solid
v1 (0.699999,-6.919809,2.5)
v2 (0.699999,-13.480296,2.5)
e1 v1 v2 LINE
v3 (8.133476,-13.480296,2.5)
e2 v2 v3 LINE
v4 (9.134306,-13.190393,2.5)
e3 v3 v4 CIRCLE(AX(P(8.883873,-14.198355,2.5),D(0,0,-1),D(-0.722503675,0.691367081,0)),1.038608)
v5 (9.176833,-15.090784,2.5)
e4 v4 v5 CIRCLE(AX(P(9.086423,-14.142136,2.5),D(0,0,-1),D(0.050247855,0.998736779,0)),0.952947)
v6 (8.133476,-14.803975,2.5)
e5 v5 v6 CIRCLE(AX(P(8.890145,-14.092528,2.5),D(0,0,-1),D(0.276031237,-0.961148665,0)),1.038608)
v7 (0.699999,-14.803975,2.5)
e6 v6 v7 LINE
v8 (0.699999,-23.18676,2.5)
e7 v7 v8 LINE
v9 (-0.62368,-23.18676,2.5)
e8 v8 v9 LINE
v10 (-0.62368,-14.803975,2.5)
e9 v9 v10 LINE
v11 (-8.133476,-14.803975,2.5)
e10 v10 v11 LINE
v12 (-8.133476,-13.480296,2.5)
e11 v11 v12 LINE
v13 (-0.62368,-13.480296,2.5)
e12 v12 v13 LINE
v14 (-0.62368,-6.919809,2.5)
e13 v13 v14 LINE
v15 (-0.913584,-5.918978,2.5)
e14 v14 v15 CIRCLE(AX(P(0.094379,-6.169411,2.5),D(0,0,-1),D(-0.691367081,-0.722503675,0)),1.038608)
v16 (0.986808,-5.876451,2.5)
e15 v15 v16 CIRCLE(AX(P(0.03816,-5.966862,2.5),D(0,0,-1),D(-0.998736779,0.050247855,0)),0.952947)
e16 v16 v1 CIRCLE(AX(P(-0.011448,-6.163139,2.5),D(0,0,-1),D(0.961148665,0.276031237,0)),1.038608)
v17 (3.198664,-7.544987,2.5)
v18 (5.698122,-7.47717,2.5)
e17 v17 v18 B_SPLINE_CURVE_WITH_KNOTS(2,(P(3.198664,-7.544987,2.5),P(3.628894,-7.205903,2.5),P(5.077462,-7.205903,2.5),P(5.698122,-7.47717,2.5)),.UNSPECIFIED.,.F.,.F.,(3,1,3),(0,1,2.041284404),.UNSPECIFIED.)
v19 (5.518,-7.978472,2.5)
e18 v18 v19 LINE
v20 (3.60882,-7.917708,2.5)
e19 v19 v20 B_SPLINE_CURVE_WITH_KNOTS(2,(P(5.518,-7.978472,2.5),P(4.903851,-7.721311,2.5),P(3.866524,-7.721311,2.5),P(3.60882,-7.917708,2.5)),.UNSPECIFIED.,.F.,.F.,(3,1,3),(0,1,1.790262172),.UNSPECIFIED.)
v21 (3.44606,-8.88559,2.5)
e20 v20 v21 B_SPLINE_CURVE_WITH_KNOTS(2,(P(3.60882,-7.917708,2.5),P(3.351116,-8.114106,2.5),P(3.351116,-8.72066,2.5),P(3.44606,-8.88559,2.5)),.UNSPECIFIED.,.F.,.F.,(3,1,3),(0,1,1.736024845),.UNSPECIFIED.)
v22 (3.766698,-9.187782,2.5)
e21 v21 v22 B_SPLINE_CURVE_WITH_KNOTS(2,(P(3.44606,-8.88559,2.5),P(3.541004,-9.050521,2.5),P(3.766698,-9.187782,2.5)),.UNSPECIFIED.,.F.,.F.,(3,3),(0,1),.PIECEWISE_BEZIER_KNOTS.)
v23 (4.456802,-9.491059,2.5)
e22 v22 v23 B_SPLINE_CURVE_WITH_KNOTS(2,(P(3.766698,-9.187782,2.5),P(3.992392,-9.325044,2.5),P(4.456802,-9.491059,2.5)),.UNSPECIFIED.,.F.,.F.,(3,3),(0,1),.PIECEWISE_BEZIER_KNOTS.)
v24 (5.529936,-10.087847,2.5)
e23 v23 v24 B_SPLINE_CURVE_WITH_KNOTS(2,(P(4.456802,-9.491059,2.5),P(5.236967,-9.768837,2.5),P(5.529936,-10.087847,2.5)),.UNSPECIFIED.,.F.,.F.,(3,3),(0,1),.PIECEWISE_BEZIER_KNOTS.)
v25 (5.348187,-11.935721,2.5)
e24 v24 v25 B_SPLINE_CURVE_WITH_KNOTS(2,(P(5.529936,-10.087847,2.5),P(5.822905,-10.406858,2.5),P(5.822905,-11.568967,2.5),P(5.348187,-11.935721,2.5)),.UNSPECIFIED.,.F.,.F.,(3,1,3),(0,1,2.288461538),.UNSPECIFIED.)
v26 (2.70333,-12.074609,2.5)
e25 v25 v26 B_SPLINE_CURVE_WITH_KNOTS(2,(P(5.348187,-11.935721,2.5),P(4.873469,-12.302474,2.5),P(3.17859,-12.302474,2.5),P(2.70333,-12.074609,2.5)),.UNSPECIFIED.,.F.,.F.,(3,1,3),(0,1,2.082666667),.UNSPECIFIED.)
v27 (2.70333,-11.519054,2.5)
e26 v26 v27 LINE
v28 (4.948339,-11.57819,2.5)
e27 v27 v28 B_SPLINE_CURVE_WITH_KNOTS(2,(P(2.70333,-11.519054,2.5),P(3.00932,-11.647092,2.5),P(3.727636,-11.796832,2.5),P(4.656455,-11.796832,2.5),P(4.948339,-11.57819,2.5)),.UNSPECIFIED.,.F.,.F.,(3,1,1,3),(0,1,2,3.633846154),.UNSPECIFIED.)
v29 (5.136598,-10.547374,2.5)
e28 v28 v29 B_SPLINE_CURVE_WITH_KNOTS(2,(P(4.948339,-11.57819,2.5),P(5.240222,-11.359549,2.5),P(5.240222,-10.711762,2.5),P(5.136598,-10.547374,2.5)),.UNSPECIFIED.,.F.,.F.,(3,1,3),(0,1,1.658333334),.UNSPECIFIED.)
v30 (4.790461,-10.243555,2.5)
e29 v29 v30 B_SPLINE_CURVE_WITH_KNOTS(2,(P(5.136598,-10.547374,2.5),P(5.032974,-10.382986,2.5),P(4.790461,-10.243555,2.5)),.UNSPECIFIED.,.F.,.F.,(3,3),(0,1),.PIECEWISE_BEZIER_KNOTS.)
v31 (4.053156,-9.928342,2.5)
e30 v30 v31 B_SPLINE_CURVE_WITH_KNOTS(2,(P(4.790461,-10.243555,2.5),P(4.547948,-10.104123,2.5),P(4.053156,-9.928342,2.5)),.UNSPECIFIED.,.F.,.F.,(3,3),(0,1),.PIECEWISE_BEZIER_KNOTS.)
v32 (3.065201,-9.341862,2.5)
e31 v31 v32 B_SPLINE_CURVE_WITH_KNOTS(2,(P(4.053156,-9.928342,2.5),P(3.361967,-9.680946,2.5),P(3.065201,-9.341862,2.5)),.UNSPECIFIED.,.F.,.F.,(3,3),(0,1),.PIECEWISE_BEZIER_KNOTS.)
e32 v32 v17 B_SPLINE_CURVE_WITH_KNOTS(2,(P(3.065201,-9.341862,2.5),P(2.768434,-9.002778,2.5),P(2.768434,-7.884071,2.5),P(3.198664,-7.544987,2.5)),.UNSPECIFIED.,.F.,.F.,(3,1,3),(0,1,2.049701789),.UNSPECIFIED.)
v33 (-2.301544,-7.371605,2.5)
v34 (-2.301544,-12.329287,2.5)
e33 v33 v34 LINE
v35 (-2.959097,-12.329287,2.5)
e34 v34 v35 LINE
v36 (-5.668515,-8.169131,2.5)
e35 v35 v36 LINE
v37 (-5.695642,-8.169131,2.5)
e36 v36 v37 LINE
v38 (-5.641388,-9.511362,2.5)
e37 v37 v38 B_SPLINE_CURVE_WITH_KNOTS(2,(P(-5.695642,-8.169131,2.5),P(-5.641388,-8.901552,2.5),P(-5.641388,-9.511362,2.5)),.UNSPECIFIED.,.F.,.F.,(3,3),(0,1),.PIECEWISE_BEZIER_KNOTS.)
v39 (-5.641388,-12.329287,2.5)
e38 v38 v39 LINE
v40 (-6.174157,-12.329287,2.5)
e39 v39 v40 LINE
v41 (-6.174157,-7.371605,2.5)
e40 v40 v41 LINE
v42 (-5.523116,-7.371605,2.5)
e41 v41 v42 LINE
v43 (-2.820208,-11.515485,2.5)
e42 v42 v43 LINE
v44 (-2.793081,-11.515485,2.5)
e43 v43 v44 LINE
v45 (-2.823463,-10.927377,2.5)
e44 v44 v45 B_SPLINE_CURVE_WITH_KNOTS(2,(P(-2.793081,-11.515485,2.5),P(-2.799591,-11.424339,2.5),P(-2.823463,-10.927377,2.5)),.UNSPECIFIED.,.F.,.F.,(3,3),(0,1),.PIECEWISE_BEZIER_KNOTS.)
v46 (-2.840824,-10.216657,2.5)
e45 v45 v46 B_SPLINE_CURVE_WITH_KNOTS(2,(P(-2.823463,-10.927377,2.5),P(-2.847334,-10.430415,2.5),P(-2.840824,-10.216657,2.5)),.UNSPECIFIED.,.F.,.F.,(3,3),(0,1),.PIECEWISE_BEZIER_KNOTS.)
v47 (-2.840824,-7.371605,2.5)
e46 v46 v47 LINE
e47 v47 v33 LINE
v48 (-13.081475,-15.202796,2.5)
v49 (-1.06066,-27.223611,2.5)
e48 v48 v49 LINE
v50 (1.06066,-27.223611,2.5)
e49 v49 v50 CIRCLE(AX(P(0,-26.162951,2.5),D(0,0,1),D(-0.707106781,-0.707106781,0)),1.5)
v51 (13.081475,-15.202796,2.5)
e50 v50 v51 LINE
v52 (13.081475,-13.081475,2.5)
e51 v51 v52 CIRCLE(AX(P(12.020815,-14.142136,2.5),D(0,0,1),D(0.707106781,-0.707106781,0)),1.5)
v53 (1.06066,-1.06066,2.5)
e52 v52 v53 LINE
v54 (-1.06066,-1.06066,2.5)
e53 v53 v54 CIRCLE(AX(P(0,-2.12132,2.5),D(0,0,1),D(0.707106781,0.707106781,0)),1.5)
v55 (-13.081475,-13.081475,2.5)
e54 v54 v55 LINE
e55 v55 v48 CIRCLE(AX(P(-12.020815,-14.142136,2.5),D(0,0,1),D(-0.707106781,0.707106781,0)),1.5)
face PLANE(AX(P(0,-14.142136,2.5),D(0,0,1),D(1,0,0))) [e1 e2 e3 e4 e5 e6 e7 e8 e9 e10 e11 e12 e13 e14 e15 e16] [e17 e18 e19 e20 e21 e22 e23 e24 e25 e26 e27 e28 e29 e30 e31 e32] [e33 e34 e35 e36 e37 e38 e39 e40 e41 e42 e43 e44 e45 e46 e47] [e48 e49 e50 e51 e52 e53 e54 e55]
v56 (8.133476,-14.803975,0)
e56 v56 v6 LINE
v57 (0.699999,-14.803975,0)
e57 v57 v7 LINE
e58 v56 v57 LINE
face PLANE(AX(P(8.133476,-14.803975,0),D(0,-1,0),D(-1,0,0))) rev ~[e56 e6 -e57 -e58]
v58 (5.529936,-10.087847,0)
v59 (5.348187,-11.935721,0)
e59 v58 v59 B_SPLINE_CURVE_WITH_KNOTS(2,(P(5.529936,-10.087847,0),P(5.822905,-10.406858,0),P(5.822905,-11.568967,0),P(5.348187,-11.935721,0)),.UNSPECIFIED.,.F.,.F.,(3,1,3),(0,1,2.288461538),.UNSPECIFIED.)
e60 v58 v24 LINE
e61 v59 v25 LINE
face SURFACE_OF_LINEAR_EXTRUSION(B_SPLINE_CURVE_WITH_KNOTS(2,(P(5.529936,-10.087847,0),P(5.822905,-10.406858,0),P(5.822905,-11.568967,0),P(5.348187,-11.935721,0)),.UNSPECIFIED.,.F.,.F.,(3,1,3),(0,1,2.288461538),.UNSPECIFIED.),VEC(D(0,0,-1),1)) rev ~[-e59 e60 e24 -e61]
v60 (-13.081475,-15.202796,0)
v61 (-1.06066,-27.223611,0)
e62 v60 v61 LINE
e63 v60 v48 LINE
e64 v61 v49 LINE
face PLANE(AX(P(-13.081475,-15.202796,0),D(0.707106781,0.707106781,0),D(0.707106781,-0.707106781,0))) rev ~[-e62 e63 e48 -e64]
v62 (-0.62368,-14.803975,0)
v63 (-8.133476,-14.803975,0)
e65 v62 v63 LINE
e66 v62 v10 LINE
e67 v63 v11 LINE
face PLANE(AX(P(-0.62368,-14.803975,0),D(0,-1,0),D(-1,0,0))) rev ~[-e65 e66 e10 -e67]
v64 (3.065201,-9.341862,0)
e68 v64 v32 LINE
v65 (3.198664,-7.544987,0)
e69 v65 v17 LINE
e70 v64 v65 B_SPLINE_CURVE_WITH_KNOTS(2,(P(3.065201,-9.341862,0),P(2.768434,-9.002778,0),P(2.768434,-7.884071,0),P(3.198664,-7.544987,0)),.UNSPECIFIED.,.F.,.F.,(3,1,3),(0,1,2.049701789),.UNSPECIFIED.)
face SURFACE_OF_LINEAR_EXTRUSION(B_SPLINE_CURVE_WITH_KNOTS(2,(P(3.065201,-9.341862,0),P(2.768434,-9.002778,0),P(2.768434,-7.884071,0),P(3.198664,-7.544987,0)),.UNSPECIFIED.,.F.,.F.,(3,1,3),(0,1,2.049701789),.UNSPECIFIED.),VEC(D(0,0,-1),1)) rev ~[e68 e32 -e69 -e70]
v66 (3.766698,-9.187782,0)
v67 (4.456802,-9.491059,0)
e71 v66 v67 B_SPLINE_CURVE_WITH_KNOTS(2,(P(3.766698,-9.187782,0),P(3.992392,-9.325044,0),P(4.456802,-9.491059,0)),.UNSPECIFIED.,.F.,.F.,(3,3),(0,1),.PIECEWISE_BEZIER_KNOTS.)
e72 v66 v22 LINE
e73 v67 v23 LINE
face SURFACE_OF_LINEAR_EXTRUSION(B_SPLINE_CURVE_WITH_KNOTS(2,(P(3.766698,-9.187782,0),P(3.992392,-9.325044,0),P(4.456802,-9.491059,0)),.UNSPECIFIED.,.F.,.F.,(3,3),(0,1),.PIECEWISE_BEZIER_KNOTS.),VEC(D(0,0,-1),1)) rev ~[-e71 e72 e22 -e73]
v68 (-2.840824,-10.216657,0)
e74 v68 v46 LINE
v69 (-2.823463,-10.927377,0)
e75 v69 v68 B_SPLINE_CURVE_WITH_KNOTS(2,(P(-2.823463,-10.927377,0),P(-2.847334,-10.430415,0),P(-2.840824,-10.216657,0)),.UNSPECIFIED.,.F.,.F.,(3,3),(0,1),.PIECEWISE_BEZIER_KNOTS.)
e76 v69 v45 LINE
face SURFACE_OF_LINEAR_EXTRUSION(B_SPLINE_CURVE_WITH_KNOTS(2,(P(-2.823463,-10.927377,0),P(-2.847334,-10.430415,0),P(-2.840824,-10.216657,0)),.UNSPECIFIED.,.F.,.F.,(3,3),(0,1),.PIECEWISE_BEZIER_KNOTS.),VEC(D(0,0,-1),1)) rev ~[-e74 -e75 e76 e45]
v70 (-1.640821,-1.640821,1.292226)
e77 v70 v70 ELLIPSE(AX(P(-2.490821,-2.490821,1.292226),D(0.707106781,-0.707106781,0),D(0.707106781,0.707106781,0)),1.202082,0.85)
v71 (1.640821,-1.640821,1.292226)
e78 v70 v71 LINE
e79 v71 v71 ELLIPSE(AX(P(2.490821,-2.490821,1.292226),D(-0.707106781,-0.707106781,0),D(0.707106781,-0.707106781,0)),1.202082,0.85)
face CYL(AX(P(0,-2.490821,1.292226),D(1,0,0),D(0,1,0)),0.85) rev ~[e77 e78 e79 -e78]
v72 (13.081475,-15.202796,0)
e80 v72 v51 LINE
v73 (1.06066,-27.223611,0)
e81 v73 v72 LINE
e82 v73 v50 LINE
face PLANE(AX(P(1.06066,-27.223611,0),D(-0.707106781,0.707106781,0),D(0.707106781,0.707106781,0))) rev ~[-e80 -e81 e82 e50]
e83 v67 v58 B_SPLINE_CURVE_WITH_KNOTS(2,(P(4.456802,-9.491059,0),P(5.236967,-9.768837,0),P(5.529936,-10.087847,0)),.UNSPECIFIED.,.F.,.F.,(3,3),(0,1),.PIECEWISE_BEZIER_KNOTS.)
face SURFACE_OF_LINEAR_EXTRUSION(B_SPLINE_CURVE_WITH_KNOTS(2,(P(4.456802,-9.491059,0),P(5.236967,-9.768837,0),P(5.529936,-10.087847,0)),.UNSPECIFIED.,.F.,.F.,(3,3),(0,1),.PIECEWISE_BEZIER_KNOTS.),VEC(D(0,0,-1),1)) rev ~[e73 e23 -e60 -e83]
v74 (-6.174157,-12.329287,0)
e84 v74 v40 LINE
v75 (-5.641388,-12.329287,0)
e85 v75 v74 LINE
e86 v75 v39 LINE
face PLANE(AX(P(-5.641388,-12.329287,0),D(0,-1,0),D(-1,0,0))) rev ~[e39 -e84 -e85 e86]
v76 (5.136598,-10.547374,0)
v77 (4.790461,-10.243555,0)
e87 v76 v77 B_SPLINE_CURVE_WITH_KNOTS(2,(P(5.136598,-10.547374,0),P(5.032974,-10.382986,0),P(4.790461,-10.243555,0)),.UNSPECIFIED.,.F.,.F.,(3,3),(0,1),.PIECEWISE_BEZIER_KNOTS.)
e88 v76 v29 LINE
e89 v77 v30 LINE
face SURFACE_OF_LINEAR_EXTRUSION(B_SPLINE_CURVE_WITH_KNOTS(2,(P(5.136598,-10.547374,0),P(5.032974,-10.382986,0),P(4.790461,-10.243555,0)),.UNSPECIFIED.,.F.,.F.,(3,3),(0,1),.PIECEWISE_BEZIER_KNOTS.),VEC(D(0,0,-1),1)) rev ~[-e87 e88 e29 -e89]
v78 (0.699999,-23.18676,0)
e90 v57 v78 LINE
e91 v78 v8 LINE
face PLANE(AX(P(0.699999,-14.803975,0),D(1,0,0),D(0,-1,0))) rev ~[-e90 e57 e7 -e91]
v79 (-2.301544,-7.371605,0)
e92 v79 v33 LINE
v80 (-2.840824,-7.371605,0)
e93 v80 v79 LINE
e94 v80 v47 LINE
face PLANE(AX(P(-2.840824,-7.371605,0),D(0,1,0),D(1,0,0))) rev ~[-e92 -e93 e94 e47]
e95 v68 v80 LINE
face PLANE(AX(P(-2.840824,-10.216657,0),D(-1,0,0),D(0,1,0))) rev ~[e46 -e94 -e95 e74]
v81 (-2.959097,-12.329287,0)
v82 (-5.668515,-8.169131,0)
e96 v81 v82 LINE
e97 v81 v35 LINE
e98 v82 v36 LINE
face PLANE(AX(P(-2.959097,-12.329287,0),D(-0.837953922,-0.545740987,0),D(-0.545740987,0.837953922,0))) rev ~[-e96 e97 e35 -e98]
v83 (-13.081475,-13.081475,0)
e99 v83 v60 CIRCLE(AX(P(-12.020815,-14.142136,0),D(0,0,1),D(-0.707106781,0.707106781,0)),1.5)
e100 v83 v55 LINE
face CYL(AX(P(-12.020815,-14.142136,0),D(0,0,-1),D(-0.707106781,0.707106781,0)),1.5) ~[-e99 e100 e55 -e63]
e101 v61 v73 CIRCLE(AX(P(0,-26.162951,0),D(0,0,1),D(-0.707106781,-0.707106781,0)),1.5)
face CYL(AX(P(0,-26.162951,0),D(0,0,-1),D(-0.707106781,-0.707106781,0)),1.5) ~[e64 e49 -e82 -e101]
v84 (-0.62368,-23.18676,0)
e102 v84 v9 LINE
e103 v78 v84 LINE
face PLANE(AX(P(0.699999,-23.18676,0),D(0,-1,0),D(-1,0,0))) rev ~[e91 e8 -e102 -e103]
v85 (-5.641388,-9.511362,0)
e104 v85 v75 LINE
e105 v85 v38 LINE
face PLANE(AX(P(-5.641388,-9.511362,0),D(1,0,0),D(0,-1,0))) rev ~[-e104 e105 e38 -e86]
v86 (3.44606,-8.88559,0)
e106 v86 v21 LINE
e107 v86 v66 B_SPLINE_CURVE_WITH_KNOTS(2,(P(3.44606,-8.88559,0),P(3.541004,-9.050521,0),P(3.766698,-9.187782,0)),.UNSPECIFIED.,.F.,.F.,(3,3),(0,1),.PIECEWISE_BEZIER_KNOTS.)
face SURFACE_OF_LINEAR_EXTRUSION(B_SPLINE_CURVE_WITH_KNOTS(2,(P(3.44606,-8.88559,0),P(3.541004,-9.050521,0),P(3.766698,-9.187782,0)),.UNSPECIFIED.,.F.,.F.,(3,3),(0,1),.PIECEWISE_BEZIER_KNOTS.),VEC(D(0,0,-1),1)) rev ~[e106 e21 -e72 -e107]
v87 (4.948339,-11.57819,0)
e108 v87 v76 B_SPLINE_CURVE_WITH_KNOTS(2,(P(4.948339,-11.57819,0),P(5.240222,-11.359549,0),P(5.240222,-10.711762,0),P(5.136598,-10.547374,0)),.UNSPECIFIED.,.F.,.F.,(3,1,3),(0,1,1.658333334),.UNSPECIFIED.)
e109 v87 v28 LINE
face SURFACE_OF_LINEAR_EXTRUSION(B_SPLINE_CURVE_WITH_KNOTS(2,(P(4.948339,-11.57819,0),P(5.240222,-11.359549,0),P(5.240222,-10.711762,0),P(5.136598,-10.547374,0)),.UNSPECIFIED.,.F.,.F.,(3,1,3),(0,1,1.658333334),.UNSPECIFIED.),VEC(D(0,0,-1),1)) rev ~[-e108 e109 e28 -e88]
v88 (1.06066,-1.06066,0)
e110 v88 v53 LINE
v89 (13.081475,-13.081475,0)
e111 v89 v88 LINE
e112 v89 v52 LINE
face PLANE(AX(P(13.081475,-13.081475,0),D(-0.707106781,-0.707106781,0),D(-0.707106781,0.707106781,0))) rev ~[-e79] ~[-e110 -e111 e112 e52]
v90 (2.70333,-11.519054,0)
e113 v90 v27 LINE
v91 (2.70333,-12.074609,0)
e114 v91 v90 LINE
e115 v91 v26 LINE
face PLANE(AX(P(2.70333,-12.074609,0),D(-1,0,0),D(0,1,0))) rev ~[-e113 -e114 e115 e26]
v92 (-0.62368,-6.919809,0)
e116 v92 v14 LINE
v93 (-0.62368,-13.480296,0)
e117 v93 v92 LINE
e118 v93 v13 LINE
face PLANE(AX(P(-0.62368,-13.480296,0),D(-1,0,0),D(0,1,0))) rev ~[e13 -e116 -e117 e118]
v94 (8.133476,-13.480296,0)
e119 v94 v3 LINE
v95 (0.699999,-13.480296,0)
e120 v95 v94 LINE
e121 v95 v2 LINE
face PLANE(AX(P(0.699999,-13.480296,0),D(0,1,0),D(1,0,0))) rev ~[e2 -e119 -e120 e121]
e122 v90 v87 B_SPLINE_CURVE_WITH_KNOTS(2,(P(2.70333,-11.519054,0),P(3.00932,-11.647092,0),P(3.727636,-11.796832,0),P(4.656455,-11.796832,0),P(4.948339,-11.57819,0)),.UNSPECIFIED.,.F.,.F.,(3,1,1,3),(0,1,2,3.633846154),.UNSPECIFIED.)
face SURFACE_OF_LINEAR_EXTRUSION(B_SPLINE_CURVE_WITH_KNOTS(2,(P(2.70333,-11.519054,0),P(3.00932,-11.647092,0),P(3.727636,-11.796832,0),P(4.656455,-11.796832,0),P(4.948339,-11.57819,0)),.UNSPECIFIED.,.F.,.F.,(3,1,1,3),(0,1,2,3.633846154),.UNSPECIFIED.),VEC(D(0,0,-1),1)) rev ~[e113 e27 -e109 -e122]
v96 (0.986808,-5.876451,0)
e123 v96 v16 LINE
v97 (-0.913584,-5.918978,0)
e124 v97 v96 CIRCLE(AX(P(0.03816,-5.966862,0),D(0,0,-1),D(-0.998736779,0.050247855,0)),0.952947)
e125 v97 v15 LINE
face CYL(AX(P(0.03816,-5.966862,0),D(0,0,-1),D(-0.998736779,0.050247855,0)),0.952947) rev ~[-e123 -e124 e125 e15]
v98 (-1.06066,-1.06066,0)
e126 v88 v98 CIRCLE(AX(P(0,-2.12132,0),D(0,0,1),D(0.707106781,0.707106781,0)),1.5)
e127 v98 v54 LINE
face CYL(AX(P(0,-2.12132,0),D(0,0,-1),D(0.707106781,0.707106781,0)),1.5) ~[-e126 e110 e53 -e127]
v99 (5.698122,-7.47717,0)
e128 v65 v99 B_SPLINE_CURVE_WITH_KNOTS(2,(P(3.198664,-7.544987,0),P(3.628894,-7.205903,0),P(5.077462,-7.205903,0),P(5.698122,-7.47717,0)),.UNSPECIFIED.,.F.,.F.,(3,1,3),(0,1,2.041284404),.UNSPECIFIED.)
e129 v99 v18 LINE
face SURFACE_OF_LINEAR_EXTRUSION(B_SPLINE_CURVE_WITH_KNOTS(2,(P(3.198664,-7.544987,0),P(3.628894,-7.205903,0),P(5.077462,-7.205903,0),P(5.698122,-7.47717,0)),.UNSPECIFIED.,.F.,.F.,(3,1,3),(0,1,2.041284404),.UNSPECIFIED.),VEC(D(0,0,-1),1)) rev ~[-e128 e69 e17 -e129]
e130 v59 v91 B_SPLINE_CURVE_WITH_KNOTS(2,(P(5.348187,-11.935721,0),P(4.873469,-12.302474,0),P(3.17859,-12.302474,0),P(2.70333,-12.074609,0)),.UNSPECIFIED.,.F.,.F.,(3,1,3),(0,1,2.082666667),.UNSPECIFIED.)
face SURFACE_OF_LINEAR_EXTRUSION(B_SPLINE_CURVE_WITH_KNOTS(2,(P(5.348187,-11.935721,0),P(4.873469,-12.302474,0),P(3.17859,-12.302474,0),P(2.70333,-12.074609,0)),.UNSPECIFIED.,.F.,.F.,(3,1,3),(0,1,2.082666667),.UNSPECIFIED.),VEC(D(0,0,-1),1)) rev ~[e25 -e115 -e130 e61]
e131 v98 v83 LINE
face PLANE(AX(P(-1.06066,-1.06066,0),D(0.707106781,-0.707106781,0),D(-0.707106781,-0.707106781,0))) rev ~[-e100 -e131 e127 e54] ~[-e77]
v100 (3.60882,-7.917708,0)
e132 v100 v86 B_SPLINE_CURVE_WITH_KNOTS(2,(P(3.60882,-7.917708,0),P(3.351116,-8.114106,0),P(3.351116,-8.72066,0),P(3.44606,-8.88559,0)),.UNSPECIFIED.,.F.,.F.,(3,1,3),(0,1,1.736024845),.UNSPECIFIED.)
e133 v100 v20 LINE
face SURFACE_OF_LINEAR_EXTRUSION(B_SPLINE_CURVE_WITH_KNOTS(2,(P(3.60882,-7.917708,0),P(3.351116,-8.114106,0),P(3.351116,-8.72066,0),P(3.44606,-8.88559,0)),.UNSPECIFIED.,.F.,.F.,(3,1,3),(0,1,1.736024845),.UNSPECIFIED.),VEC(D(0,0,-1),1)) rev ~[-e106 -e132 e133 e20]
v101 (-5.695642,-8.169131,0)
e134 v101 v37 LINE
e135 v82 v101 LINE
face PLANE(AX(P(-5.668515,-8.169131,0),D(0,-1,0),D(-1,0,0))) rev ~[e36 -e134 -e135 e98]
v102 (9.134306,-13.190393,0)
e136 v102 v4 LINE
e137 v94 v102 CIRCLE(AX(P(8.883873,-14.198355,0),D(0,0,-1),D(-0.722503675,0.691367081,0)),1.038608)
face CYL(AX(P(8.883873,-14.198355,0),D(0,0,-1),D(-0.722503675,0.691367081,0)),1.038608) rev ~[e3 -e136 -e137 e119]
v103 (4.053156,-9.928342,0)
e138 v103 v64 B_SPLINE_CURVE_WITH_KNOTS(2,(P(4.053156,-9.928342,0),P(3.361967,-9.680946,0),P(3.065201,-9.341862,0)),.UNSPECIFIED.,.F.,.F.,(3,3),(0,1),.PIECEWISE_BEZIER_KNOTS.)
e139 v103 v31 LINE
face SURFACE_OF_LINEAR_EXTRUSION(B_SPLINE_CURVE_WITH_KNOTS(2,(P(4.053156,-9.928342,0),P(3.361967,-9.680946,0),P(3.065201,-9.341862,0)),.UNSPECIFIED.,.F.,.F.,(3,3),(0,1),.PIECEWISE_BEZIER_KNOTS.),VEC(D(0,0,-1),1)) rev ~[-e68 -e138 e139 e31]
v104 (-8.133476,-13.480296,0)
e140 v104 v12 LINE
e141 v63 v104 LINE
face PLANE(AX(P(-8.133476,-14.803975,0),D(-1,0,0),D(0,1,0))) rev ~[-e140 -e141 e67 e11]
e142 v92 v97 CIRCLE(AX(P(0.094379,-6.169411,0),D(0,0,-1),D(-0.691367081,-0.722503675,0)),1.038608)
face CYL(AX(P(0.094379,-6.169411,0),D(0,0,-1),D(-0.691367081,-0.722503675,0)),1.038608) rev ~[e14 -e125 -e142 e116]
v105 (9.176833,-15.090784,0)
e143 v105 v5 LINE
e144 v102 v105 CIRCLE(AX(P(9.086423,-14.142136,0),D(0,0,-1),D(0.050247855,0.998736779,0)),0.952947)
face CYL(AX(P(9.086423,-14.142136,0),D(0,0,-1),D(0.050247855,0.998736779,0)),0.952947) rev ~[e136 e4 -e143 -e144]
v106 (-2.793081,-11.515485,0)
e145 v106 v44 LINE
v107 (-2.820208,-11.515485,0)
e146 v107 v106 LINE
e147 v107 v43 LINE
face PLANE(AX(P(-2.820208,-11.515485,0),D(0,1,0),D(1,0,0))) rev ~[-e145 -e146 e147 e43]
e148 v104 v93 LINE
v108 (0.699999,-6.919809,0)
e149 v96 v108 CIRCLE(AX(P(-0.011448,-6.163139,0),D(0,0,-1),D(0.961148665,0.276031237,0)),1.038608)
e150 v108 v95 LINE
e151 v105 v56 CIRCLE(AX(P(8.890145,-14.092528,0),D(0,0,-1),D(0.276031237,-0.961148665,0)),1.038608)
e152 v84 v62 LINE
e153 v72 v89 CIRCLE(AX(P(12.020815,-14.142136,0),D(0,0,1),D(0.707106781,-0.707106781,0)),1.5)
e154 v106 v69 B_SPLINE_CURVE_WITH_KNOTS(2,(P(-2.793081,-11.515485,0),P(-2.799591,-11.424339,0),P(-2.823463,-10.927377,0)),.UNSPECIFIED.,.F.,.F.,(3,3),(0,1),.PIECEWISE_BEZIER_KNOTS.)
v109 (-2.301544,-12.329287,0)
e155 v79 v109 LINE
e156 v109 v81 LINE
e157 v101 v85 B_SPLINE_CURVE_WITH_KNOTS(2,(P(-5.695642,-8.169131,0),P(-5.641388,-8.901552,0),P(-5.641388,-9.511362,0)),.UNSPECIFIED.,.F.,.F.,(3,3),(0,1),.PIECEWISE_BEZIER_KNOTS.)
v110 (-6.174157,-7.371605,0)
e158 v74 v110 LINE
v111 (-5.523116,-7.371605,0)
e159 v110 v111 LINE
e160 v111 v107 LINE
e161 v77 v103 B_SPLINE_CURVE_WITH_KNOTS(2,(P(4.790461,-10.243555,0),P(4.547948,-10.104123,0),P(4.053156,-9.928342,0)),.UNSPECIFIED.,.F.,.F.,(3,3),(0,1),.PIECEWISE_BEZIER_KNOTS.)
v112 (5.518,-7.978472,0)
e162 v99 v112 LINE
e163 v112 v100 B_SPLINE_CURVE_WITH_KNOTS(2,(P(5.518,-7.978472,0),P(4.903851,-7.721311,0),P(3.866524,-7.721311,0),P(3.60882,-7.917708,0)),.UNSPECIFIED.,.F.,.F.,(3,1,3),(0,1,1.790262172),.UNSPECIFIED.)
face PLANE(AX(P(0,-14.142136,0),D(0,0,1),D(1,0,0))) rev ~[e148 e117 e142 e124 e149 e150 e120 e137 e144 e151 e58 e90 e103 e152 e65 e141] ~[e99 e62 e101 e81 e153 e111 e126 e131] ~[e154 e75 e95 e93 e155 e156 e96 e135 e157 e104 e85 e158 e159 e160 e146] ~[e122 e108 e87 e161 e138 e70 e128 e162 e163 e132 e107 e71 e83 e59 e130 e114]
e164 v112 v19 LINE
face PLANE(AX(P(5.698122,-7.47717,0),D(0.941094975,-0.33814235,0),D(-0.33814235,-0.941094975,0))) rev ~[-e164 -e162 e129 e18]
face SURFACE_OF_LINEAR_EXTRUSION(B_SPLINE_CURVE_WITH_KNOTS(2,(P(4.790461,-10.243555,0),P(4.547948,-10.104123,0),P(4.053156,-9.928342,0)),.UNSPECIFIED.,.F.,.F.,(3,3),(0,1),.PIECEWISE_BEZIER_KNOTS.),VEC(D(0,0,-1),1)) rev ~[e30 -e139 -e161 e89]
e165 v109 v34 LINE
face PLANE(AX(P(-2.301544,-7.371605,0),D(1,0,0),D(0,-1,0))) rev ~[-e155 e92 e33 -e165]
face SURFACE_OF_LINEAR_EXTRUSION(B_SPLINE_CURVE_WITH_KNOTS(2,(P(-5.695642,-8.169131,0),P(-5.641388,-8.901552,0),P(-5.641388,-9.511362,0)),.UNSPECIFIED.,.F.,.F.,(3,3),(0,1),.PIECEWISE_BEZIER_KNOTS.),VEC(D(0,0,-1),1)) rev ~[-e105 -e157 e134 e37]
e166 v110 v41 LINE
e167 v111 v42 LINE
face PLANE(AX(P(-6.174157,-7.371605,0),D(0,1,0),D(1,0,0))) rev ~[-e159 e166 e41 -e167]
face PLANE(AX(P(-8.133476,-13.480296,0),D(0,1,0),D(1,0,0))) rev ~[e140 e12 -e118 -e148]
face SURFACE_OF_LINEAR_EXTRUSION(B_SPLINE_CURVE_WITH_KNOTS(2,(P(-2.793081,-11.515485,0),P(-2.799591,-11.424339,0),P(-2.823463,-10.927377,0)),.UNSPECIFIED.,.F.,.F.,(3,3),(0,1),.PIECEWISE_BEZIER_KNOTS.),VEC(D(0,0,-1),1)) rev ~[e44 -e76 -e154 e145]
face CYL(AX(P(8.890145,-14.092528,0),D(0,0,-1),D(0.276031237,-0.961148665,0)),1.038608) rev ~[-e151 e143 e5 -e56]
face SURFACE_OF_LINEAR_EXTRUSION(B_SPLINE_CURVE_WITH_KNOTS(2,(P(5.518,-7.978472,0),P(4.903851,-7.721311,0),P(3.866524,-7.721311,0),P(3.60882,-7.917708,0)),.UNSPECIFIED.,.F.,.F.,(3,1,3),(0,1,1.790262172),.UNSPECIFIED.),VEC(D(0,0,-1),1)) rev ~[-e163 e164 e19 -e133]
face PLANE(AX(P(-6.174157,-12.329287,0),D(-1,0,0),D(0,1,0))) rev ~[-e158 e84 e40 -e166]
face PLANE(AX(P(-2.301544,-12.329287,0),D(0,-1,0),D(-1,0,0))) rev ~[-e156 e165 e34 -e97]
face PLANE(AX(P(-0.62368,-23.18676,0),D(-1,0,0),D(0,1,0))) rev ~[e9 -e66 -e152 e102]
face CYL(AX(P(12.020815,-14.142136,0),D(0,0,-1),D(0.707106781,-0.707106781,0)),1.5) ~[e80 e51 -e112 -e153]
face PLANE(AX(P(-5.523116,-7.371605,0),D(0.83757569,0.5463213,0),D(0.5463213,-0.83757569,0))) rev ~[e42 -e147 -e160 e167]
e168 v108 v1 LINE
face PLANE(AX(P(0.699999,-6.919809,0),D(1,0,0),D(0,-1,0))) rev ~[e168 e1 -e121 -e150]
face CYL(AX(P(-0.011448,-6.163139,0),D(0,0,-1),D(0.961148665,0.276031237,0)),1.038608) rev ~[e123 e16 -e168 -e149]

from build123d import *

# Parameters (mm, degrees)
F1_DEPTH = 2.5
F2_R     = 0.85
F3_DEPTH = 12.5


with BuildPart() as f1:
    # F0 (on Top) → F1 (new body)
    with BuildSketch(Plane.XY):
        with BuildLine():
            Line((13.081475452, -13.081475452), (1.0606601718, -1.0606601718))
            ThreePointArc((1.0606601718, -1.0606601718), (0, -0.6213203436), (-1.0606601718, -1.0606601718))
            Line((-1.0606601718, -1.0606601718), (-13.081475452, -13.081475452))
            ThreePointArc((-13.081475452, -13.081475452), (-13.5208152802, -14.1421356237), (-13.081475452, -15.2027957955))
            Line((-13.081475452, -15.2027957955), (-1.0606601718, -27.2236110757))
            ThreePointArc((-1.0606601718, -27.2236110757), (0, -27.6629509039), (1.0606601718, -27.2236110757))
            Line((1.0606601718, -27.2236110757), (13.081475452, -15.2027957955))
            ThreePointArc((13.081475452, -15.2027957955), (13.5208152802, -14.1421356237), (13.081475452, -13.081475452))
        make_face()
        with BuildLine():
            Line((-2.3015444974, -7.3716045666), (-2.3015444974, -12.3292868583))
            Line((-2.3015444974, -12.3292868583), (-2.9590965807, -12.3292868583))
            Line((-2.9590965807, -12.3292868583), (-5.6685149835, -8.1691306083))
            Line((-5.6685149835, -8.1691306083), (-5.6956417196, -8.1691306083))
            add(Edge.make_bspline(
                [(-5.6956417196, -8.1691306083), (-5.6413882474, -8.9015524833), (-5.6413882474, -9.5113615111)],
                knots=[0, 0, 0, 1, 1, 1], degree=2))
            Line((-5.6413882474, -9.5113615111), (-5.6413882474, -12.3292868583))
            Line((-5.6413882474, -12.3292868583), (-6.1741573446, -12.3292868583))
            Line((-6.1741573446, -12.3292868583), (-6.1741573446, -7.3716045666))
            Line((-6.1741573446, -7.3716045666), (-5.523115678, -7.3716045666))
            Line((-5.523115678, -7.3716045666), (-2.8202076919, -11.515484775))
            Line((-2.8202076919, -11.515484775), (-2.7930809557, -11.515484775))
            add(Edge.make_bspline(
                [(-2.7930809557, -11.515484775), (-2.7995913724, -11.4243389416), (-2.8234629002, -10.9273771361)],
                knots=[0, 0, 0, 1, 1, 1], degree=2))
            add(Edge.make_bspline(
                [(-2.8234629002, -10.9273771361), (-2.847334428, -10.4304153305), (-2.8408240113, -10.21665665)],
                knots=[0, 0, 0, 1, 1, 1], degree=2))
            Line((-2.8408240113, -10.21665665), (-2.8408240113, -7.3716045666))
            Line((-2.8408240113, -7.3716045666), (-2.3015444974, -7.3716045666))
        make_face(mode=Mode.SUBTRACT)
        with BuildLine():
            Line((-8.1334756687, -14.8039748892), (-8.1334756687, -13.4802963582))
            Line((-8.1334756687, -13.4802963582), (-0.6236797201, -13.4802963582))
            Line((-0.6236797201, -13.4802963582), (-0.6236797201, -6.9198086858))
            ThreePointArc((-0.6236797201, -6.9198086858), (-0.9032194318, -6.4583786209), (-0.9135835525, -5.9189782686))
            ThreePointArc((-0.9135835525, -5.9189782686), (0.0168397474, -5.0141534426), (0.9868078824, -5.876451129))
            ThreePointArc((0.9868078824, -5.876451129), (0.9900106564, -6.4384308628), (0.6999988109, -6.9198086858))
            Line((0.6999988109, -6.9198086858), (0.6999988109, -13.4802963582))
            Line((0.6999988109, -13.4802963582), (8.1334756687, -13.4802963582))
            ThreePointArc((8.1334756687, -13.4802963582), (8.5949057336, -13.2007566465), (9.134306086, -13.1903925258))
            ThreePointArc((9.134306086, -13.1903925258), (10.0391309119, -14.1208158258), (9.1768332255, -15.0907839607))
            ThreePointArc((9.1768332255, -15.0907839607), (8.6148534917, -15.0939867347), (8.1334756687, -14.8039748892))
            Line((8.1334756687, -14.8039748892), (0.6999988109, -14.8039748892))
            Line((0.6999988109, -14.8039748892), (0.6999988109, -23.1867600232))
            Line((0.6999988109, -23.1867600232), (-0.6236797201, -23.1867600232))
            Line((-0.6236797201, -23.1867600232), (-0.6236797201, -14.8039748892))
            Line((-0.6236797201, -14.8039748892), (-8.1334756687, -14.8039748892))
        make_face(mode=Mode.SUBTRACT)
        with BuildLine():
            add(Edge.make_bspline(
                [(5.5299358711, -10.0878473268), (5.8229046211, -10.4068577434), (5.8229046211, -10.9146702434)],
                knots=[0, 0, 0, 1, 1, 1], degree=2))
            add(Edge.make_bspline(
                [(5.8229046211, -10.9146702434), (5.8229046211, -11.5689671184), (5.3481867392, -11.9357205907)],
                knots=[0, 0, 0, 1, 1, 1], degree=2))
            add(Edge.make_bspline(
                [(5.3481867392, -11.9357205907), (4.8734688573, -12.3024740629), (4.0596667739, -12.3024740629)],
                knots=[0, 0, 0, 1, 1, 1], degree=2))
            add(Edge.make_bspline(
                [(4.0596667739, -12.3024740629), (3.178590385, -12.3024740629), (2.7033299684, -12.0746094796)],
                knots=[0, 0, 0, 1, 1, 1], degree=2))
            Line((2.7033299684, -12.0746094796), (2.7033299684, -11.519053924))
            add(Edge.make_bspline(
                [(2.7033299684, -11.519053924), (3.0093195517, -11.6470921184), (3.3684775378, -11.7219619101)],
                knots=[0, 0, 0, 1, 1, 1], degree=2))
            add(Edge.make_bspline(
                [(3.3684775378, -11.7219619101), (3.7276355239, -11.7968317018), (4.0802830934, -11.7968317018)],
                knots=[0, 0, 0, 1, 1, 1], degree=2))
            add(Edge.make_bspline(
                [(4.0802830934, -11.7968317018), (4.6564549684, -11.7968317018), (4.9483386489, -11.5781902087)],
                knots=[0, 0, 0, 1, 1, 1], degree=2))
            add(Edge.make_bspline(
                [(4.9483386489, -11.5781902087), (5.2402223295, -11.3595487157), (5.2402223295, -10.9689237157)],
                knots=[0, 0, 0, 1, 1, 1], degree=2))
            add(Edge.make_bspline(
                [(5.2402223295, -10.9689237157), (5.2402223295, -10.7117622573), (5.1365981975, -10.5473742365)],
                knots=[0, 0, 0, 1, 1, 1], degree=2))
            add(Edge.make_bspline(
                [(5.1365981975, -10.5473742365), (5.0329740656, -10.3829862157), (4.7904610448, -10.2435547921)],
                knots=[0, 0, 0, 1, 1, 1], degree=2))
            add(Edge.make_bspline(
                [(4.7904610448, -10.2435547921), (4.5479480239, -10.1041233684), (4.0531563573, -9.9283421184)],
                knots=[0, 0, 0, 1, 1, 1], degree=2))
            add(Edge.make_bspline(
                [(4.0531563573, -9.9283421184), (3.3619671211, -9.6809462851), (3.0652006281, -9.3418620837)],
                knots=[0, 0, 0, 1, 1, 1], degree=2))
            add(Edge.make_bspline(
                [(3.0652006281, -9.3418620837), (2.768434135, -9.0027778823), (2.768434135, -8.4569879518)],
                knots=[0, 0, 0, 1, 1, 1], degree=2))
            add(Edge.make_bspline(
                [(2.768434135, -8.4569879518), (2.768434135, -7.8840712851), (3.1986641698, -7.5449870837)],
                knots=[0, 0, 0, 1, 1, 1], degree=2))
            add(Edge.make_bspline(
                [(3.1986641698, -7.5449870837), (3.6288942045, -7.2059028823), (4.3385296211, -7.2059028823)],
                knots=[0, 0, 0, 1, 1, 1], degree=2))
            add(Edge.make_bspline(
                [(4.3385296211, -7.2059028823), (5.0774619128, -7.2059028823), (5.698121635, -7.4771702434)],
                knots=[0, 0, 0, 1, 1, 1], degree=2))
            Line((5.698121635, -7.4771702434), (5.5180001073, -7.9784723268))
            add(Edge.make_bspline(
                [(5.5180001073, -7.9784723268), (4.9038508017, -7.7213108684), (4.3244237184, -7.7213108684)],
                knots=[0, 0, 0, 1, 1, 1], degree=2))
            add(Edge.make_bspline(
                [(4.3244237184, -7.7213108684), (3.8665244128, -7.7213108684), (3.6088204198, -7.9177084379)],
                knots=[0, 0, 0, 1, 1, 1], degree=2))
            add(Edge.make_bspline(
                [(3.6088204198, -7.9177084379), (3.3511164267, -8.1141060073), (3.3511164267, -8.4634983684)],
                knots=[0, 0, 0, 1, 1, 1], degree=2))
            add(Edge.make_bspline(
                [(3.3511164267, -8.4634983684), (3.3511164267, -8.7206598268), (3.4460600031, -8.8855903823)],
                knots=[0, 0, 0, 1, 1, 1], degree=2))
            add(Edge.make_bspline(
                [(3.4460600031, -8.8855903823), (3.5410035795, -9.0505209379), (3.7666980239, -9.1877822226)],
                knots=[0, 0, 0, 1, 1, 1], degree=2))
            add(Edge.make_bspline(
                [(3.7666980239, -9.1877822226), (3.9923924684, -9.3250435073), (4.4568021906, -9.4910591323)],
                knots=[0, 0, 0, 1, 1, 1], degree=2))
            add(Edge.make_bspline(
                [(4.4568021906, -9.4910591323), (5.2369671211, -9.7688369101), (5.5299358711, -10.0878473268)],
                knots=[0, 0, 0, 1, 1, 1], degree=2))
        make_face(mode=Mode.SUBTRACT)
    extrude(amount=F1_DEPTH)

    # F2 (on Right) → F3 (cut, symmetric)
    with BuildSketch(Plane.YZ):
        with Locations((-2.4908210296, 1.292226194)):
            Circle(F2_R)
    extrude(amount=F3_DEPTH, both=True, mode=Mode.SUBTRACT)


solid = f1.part
